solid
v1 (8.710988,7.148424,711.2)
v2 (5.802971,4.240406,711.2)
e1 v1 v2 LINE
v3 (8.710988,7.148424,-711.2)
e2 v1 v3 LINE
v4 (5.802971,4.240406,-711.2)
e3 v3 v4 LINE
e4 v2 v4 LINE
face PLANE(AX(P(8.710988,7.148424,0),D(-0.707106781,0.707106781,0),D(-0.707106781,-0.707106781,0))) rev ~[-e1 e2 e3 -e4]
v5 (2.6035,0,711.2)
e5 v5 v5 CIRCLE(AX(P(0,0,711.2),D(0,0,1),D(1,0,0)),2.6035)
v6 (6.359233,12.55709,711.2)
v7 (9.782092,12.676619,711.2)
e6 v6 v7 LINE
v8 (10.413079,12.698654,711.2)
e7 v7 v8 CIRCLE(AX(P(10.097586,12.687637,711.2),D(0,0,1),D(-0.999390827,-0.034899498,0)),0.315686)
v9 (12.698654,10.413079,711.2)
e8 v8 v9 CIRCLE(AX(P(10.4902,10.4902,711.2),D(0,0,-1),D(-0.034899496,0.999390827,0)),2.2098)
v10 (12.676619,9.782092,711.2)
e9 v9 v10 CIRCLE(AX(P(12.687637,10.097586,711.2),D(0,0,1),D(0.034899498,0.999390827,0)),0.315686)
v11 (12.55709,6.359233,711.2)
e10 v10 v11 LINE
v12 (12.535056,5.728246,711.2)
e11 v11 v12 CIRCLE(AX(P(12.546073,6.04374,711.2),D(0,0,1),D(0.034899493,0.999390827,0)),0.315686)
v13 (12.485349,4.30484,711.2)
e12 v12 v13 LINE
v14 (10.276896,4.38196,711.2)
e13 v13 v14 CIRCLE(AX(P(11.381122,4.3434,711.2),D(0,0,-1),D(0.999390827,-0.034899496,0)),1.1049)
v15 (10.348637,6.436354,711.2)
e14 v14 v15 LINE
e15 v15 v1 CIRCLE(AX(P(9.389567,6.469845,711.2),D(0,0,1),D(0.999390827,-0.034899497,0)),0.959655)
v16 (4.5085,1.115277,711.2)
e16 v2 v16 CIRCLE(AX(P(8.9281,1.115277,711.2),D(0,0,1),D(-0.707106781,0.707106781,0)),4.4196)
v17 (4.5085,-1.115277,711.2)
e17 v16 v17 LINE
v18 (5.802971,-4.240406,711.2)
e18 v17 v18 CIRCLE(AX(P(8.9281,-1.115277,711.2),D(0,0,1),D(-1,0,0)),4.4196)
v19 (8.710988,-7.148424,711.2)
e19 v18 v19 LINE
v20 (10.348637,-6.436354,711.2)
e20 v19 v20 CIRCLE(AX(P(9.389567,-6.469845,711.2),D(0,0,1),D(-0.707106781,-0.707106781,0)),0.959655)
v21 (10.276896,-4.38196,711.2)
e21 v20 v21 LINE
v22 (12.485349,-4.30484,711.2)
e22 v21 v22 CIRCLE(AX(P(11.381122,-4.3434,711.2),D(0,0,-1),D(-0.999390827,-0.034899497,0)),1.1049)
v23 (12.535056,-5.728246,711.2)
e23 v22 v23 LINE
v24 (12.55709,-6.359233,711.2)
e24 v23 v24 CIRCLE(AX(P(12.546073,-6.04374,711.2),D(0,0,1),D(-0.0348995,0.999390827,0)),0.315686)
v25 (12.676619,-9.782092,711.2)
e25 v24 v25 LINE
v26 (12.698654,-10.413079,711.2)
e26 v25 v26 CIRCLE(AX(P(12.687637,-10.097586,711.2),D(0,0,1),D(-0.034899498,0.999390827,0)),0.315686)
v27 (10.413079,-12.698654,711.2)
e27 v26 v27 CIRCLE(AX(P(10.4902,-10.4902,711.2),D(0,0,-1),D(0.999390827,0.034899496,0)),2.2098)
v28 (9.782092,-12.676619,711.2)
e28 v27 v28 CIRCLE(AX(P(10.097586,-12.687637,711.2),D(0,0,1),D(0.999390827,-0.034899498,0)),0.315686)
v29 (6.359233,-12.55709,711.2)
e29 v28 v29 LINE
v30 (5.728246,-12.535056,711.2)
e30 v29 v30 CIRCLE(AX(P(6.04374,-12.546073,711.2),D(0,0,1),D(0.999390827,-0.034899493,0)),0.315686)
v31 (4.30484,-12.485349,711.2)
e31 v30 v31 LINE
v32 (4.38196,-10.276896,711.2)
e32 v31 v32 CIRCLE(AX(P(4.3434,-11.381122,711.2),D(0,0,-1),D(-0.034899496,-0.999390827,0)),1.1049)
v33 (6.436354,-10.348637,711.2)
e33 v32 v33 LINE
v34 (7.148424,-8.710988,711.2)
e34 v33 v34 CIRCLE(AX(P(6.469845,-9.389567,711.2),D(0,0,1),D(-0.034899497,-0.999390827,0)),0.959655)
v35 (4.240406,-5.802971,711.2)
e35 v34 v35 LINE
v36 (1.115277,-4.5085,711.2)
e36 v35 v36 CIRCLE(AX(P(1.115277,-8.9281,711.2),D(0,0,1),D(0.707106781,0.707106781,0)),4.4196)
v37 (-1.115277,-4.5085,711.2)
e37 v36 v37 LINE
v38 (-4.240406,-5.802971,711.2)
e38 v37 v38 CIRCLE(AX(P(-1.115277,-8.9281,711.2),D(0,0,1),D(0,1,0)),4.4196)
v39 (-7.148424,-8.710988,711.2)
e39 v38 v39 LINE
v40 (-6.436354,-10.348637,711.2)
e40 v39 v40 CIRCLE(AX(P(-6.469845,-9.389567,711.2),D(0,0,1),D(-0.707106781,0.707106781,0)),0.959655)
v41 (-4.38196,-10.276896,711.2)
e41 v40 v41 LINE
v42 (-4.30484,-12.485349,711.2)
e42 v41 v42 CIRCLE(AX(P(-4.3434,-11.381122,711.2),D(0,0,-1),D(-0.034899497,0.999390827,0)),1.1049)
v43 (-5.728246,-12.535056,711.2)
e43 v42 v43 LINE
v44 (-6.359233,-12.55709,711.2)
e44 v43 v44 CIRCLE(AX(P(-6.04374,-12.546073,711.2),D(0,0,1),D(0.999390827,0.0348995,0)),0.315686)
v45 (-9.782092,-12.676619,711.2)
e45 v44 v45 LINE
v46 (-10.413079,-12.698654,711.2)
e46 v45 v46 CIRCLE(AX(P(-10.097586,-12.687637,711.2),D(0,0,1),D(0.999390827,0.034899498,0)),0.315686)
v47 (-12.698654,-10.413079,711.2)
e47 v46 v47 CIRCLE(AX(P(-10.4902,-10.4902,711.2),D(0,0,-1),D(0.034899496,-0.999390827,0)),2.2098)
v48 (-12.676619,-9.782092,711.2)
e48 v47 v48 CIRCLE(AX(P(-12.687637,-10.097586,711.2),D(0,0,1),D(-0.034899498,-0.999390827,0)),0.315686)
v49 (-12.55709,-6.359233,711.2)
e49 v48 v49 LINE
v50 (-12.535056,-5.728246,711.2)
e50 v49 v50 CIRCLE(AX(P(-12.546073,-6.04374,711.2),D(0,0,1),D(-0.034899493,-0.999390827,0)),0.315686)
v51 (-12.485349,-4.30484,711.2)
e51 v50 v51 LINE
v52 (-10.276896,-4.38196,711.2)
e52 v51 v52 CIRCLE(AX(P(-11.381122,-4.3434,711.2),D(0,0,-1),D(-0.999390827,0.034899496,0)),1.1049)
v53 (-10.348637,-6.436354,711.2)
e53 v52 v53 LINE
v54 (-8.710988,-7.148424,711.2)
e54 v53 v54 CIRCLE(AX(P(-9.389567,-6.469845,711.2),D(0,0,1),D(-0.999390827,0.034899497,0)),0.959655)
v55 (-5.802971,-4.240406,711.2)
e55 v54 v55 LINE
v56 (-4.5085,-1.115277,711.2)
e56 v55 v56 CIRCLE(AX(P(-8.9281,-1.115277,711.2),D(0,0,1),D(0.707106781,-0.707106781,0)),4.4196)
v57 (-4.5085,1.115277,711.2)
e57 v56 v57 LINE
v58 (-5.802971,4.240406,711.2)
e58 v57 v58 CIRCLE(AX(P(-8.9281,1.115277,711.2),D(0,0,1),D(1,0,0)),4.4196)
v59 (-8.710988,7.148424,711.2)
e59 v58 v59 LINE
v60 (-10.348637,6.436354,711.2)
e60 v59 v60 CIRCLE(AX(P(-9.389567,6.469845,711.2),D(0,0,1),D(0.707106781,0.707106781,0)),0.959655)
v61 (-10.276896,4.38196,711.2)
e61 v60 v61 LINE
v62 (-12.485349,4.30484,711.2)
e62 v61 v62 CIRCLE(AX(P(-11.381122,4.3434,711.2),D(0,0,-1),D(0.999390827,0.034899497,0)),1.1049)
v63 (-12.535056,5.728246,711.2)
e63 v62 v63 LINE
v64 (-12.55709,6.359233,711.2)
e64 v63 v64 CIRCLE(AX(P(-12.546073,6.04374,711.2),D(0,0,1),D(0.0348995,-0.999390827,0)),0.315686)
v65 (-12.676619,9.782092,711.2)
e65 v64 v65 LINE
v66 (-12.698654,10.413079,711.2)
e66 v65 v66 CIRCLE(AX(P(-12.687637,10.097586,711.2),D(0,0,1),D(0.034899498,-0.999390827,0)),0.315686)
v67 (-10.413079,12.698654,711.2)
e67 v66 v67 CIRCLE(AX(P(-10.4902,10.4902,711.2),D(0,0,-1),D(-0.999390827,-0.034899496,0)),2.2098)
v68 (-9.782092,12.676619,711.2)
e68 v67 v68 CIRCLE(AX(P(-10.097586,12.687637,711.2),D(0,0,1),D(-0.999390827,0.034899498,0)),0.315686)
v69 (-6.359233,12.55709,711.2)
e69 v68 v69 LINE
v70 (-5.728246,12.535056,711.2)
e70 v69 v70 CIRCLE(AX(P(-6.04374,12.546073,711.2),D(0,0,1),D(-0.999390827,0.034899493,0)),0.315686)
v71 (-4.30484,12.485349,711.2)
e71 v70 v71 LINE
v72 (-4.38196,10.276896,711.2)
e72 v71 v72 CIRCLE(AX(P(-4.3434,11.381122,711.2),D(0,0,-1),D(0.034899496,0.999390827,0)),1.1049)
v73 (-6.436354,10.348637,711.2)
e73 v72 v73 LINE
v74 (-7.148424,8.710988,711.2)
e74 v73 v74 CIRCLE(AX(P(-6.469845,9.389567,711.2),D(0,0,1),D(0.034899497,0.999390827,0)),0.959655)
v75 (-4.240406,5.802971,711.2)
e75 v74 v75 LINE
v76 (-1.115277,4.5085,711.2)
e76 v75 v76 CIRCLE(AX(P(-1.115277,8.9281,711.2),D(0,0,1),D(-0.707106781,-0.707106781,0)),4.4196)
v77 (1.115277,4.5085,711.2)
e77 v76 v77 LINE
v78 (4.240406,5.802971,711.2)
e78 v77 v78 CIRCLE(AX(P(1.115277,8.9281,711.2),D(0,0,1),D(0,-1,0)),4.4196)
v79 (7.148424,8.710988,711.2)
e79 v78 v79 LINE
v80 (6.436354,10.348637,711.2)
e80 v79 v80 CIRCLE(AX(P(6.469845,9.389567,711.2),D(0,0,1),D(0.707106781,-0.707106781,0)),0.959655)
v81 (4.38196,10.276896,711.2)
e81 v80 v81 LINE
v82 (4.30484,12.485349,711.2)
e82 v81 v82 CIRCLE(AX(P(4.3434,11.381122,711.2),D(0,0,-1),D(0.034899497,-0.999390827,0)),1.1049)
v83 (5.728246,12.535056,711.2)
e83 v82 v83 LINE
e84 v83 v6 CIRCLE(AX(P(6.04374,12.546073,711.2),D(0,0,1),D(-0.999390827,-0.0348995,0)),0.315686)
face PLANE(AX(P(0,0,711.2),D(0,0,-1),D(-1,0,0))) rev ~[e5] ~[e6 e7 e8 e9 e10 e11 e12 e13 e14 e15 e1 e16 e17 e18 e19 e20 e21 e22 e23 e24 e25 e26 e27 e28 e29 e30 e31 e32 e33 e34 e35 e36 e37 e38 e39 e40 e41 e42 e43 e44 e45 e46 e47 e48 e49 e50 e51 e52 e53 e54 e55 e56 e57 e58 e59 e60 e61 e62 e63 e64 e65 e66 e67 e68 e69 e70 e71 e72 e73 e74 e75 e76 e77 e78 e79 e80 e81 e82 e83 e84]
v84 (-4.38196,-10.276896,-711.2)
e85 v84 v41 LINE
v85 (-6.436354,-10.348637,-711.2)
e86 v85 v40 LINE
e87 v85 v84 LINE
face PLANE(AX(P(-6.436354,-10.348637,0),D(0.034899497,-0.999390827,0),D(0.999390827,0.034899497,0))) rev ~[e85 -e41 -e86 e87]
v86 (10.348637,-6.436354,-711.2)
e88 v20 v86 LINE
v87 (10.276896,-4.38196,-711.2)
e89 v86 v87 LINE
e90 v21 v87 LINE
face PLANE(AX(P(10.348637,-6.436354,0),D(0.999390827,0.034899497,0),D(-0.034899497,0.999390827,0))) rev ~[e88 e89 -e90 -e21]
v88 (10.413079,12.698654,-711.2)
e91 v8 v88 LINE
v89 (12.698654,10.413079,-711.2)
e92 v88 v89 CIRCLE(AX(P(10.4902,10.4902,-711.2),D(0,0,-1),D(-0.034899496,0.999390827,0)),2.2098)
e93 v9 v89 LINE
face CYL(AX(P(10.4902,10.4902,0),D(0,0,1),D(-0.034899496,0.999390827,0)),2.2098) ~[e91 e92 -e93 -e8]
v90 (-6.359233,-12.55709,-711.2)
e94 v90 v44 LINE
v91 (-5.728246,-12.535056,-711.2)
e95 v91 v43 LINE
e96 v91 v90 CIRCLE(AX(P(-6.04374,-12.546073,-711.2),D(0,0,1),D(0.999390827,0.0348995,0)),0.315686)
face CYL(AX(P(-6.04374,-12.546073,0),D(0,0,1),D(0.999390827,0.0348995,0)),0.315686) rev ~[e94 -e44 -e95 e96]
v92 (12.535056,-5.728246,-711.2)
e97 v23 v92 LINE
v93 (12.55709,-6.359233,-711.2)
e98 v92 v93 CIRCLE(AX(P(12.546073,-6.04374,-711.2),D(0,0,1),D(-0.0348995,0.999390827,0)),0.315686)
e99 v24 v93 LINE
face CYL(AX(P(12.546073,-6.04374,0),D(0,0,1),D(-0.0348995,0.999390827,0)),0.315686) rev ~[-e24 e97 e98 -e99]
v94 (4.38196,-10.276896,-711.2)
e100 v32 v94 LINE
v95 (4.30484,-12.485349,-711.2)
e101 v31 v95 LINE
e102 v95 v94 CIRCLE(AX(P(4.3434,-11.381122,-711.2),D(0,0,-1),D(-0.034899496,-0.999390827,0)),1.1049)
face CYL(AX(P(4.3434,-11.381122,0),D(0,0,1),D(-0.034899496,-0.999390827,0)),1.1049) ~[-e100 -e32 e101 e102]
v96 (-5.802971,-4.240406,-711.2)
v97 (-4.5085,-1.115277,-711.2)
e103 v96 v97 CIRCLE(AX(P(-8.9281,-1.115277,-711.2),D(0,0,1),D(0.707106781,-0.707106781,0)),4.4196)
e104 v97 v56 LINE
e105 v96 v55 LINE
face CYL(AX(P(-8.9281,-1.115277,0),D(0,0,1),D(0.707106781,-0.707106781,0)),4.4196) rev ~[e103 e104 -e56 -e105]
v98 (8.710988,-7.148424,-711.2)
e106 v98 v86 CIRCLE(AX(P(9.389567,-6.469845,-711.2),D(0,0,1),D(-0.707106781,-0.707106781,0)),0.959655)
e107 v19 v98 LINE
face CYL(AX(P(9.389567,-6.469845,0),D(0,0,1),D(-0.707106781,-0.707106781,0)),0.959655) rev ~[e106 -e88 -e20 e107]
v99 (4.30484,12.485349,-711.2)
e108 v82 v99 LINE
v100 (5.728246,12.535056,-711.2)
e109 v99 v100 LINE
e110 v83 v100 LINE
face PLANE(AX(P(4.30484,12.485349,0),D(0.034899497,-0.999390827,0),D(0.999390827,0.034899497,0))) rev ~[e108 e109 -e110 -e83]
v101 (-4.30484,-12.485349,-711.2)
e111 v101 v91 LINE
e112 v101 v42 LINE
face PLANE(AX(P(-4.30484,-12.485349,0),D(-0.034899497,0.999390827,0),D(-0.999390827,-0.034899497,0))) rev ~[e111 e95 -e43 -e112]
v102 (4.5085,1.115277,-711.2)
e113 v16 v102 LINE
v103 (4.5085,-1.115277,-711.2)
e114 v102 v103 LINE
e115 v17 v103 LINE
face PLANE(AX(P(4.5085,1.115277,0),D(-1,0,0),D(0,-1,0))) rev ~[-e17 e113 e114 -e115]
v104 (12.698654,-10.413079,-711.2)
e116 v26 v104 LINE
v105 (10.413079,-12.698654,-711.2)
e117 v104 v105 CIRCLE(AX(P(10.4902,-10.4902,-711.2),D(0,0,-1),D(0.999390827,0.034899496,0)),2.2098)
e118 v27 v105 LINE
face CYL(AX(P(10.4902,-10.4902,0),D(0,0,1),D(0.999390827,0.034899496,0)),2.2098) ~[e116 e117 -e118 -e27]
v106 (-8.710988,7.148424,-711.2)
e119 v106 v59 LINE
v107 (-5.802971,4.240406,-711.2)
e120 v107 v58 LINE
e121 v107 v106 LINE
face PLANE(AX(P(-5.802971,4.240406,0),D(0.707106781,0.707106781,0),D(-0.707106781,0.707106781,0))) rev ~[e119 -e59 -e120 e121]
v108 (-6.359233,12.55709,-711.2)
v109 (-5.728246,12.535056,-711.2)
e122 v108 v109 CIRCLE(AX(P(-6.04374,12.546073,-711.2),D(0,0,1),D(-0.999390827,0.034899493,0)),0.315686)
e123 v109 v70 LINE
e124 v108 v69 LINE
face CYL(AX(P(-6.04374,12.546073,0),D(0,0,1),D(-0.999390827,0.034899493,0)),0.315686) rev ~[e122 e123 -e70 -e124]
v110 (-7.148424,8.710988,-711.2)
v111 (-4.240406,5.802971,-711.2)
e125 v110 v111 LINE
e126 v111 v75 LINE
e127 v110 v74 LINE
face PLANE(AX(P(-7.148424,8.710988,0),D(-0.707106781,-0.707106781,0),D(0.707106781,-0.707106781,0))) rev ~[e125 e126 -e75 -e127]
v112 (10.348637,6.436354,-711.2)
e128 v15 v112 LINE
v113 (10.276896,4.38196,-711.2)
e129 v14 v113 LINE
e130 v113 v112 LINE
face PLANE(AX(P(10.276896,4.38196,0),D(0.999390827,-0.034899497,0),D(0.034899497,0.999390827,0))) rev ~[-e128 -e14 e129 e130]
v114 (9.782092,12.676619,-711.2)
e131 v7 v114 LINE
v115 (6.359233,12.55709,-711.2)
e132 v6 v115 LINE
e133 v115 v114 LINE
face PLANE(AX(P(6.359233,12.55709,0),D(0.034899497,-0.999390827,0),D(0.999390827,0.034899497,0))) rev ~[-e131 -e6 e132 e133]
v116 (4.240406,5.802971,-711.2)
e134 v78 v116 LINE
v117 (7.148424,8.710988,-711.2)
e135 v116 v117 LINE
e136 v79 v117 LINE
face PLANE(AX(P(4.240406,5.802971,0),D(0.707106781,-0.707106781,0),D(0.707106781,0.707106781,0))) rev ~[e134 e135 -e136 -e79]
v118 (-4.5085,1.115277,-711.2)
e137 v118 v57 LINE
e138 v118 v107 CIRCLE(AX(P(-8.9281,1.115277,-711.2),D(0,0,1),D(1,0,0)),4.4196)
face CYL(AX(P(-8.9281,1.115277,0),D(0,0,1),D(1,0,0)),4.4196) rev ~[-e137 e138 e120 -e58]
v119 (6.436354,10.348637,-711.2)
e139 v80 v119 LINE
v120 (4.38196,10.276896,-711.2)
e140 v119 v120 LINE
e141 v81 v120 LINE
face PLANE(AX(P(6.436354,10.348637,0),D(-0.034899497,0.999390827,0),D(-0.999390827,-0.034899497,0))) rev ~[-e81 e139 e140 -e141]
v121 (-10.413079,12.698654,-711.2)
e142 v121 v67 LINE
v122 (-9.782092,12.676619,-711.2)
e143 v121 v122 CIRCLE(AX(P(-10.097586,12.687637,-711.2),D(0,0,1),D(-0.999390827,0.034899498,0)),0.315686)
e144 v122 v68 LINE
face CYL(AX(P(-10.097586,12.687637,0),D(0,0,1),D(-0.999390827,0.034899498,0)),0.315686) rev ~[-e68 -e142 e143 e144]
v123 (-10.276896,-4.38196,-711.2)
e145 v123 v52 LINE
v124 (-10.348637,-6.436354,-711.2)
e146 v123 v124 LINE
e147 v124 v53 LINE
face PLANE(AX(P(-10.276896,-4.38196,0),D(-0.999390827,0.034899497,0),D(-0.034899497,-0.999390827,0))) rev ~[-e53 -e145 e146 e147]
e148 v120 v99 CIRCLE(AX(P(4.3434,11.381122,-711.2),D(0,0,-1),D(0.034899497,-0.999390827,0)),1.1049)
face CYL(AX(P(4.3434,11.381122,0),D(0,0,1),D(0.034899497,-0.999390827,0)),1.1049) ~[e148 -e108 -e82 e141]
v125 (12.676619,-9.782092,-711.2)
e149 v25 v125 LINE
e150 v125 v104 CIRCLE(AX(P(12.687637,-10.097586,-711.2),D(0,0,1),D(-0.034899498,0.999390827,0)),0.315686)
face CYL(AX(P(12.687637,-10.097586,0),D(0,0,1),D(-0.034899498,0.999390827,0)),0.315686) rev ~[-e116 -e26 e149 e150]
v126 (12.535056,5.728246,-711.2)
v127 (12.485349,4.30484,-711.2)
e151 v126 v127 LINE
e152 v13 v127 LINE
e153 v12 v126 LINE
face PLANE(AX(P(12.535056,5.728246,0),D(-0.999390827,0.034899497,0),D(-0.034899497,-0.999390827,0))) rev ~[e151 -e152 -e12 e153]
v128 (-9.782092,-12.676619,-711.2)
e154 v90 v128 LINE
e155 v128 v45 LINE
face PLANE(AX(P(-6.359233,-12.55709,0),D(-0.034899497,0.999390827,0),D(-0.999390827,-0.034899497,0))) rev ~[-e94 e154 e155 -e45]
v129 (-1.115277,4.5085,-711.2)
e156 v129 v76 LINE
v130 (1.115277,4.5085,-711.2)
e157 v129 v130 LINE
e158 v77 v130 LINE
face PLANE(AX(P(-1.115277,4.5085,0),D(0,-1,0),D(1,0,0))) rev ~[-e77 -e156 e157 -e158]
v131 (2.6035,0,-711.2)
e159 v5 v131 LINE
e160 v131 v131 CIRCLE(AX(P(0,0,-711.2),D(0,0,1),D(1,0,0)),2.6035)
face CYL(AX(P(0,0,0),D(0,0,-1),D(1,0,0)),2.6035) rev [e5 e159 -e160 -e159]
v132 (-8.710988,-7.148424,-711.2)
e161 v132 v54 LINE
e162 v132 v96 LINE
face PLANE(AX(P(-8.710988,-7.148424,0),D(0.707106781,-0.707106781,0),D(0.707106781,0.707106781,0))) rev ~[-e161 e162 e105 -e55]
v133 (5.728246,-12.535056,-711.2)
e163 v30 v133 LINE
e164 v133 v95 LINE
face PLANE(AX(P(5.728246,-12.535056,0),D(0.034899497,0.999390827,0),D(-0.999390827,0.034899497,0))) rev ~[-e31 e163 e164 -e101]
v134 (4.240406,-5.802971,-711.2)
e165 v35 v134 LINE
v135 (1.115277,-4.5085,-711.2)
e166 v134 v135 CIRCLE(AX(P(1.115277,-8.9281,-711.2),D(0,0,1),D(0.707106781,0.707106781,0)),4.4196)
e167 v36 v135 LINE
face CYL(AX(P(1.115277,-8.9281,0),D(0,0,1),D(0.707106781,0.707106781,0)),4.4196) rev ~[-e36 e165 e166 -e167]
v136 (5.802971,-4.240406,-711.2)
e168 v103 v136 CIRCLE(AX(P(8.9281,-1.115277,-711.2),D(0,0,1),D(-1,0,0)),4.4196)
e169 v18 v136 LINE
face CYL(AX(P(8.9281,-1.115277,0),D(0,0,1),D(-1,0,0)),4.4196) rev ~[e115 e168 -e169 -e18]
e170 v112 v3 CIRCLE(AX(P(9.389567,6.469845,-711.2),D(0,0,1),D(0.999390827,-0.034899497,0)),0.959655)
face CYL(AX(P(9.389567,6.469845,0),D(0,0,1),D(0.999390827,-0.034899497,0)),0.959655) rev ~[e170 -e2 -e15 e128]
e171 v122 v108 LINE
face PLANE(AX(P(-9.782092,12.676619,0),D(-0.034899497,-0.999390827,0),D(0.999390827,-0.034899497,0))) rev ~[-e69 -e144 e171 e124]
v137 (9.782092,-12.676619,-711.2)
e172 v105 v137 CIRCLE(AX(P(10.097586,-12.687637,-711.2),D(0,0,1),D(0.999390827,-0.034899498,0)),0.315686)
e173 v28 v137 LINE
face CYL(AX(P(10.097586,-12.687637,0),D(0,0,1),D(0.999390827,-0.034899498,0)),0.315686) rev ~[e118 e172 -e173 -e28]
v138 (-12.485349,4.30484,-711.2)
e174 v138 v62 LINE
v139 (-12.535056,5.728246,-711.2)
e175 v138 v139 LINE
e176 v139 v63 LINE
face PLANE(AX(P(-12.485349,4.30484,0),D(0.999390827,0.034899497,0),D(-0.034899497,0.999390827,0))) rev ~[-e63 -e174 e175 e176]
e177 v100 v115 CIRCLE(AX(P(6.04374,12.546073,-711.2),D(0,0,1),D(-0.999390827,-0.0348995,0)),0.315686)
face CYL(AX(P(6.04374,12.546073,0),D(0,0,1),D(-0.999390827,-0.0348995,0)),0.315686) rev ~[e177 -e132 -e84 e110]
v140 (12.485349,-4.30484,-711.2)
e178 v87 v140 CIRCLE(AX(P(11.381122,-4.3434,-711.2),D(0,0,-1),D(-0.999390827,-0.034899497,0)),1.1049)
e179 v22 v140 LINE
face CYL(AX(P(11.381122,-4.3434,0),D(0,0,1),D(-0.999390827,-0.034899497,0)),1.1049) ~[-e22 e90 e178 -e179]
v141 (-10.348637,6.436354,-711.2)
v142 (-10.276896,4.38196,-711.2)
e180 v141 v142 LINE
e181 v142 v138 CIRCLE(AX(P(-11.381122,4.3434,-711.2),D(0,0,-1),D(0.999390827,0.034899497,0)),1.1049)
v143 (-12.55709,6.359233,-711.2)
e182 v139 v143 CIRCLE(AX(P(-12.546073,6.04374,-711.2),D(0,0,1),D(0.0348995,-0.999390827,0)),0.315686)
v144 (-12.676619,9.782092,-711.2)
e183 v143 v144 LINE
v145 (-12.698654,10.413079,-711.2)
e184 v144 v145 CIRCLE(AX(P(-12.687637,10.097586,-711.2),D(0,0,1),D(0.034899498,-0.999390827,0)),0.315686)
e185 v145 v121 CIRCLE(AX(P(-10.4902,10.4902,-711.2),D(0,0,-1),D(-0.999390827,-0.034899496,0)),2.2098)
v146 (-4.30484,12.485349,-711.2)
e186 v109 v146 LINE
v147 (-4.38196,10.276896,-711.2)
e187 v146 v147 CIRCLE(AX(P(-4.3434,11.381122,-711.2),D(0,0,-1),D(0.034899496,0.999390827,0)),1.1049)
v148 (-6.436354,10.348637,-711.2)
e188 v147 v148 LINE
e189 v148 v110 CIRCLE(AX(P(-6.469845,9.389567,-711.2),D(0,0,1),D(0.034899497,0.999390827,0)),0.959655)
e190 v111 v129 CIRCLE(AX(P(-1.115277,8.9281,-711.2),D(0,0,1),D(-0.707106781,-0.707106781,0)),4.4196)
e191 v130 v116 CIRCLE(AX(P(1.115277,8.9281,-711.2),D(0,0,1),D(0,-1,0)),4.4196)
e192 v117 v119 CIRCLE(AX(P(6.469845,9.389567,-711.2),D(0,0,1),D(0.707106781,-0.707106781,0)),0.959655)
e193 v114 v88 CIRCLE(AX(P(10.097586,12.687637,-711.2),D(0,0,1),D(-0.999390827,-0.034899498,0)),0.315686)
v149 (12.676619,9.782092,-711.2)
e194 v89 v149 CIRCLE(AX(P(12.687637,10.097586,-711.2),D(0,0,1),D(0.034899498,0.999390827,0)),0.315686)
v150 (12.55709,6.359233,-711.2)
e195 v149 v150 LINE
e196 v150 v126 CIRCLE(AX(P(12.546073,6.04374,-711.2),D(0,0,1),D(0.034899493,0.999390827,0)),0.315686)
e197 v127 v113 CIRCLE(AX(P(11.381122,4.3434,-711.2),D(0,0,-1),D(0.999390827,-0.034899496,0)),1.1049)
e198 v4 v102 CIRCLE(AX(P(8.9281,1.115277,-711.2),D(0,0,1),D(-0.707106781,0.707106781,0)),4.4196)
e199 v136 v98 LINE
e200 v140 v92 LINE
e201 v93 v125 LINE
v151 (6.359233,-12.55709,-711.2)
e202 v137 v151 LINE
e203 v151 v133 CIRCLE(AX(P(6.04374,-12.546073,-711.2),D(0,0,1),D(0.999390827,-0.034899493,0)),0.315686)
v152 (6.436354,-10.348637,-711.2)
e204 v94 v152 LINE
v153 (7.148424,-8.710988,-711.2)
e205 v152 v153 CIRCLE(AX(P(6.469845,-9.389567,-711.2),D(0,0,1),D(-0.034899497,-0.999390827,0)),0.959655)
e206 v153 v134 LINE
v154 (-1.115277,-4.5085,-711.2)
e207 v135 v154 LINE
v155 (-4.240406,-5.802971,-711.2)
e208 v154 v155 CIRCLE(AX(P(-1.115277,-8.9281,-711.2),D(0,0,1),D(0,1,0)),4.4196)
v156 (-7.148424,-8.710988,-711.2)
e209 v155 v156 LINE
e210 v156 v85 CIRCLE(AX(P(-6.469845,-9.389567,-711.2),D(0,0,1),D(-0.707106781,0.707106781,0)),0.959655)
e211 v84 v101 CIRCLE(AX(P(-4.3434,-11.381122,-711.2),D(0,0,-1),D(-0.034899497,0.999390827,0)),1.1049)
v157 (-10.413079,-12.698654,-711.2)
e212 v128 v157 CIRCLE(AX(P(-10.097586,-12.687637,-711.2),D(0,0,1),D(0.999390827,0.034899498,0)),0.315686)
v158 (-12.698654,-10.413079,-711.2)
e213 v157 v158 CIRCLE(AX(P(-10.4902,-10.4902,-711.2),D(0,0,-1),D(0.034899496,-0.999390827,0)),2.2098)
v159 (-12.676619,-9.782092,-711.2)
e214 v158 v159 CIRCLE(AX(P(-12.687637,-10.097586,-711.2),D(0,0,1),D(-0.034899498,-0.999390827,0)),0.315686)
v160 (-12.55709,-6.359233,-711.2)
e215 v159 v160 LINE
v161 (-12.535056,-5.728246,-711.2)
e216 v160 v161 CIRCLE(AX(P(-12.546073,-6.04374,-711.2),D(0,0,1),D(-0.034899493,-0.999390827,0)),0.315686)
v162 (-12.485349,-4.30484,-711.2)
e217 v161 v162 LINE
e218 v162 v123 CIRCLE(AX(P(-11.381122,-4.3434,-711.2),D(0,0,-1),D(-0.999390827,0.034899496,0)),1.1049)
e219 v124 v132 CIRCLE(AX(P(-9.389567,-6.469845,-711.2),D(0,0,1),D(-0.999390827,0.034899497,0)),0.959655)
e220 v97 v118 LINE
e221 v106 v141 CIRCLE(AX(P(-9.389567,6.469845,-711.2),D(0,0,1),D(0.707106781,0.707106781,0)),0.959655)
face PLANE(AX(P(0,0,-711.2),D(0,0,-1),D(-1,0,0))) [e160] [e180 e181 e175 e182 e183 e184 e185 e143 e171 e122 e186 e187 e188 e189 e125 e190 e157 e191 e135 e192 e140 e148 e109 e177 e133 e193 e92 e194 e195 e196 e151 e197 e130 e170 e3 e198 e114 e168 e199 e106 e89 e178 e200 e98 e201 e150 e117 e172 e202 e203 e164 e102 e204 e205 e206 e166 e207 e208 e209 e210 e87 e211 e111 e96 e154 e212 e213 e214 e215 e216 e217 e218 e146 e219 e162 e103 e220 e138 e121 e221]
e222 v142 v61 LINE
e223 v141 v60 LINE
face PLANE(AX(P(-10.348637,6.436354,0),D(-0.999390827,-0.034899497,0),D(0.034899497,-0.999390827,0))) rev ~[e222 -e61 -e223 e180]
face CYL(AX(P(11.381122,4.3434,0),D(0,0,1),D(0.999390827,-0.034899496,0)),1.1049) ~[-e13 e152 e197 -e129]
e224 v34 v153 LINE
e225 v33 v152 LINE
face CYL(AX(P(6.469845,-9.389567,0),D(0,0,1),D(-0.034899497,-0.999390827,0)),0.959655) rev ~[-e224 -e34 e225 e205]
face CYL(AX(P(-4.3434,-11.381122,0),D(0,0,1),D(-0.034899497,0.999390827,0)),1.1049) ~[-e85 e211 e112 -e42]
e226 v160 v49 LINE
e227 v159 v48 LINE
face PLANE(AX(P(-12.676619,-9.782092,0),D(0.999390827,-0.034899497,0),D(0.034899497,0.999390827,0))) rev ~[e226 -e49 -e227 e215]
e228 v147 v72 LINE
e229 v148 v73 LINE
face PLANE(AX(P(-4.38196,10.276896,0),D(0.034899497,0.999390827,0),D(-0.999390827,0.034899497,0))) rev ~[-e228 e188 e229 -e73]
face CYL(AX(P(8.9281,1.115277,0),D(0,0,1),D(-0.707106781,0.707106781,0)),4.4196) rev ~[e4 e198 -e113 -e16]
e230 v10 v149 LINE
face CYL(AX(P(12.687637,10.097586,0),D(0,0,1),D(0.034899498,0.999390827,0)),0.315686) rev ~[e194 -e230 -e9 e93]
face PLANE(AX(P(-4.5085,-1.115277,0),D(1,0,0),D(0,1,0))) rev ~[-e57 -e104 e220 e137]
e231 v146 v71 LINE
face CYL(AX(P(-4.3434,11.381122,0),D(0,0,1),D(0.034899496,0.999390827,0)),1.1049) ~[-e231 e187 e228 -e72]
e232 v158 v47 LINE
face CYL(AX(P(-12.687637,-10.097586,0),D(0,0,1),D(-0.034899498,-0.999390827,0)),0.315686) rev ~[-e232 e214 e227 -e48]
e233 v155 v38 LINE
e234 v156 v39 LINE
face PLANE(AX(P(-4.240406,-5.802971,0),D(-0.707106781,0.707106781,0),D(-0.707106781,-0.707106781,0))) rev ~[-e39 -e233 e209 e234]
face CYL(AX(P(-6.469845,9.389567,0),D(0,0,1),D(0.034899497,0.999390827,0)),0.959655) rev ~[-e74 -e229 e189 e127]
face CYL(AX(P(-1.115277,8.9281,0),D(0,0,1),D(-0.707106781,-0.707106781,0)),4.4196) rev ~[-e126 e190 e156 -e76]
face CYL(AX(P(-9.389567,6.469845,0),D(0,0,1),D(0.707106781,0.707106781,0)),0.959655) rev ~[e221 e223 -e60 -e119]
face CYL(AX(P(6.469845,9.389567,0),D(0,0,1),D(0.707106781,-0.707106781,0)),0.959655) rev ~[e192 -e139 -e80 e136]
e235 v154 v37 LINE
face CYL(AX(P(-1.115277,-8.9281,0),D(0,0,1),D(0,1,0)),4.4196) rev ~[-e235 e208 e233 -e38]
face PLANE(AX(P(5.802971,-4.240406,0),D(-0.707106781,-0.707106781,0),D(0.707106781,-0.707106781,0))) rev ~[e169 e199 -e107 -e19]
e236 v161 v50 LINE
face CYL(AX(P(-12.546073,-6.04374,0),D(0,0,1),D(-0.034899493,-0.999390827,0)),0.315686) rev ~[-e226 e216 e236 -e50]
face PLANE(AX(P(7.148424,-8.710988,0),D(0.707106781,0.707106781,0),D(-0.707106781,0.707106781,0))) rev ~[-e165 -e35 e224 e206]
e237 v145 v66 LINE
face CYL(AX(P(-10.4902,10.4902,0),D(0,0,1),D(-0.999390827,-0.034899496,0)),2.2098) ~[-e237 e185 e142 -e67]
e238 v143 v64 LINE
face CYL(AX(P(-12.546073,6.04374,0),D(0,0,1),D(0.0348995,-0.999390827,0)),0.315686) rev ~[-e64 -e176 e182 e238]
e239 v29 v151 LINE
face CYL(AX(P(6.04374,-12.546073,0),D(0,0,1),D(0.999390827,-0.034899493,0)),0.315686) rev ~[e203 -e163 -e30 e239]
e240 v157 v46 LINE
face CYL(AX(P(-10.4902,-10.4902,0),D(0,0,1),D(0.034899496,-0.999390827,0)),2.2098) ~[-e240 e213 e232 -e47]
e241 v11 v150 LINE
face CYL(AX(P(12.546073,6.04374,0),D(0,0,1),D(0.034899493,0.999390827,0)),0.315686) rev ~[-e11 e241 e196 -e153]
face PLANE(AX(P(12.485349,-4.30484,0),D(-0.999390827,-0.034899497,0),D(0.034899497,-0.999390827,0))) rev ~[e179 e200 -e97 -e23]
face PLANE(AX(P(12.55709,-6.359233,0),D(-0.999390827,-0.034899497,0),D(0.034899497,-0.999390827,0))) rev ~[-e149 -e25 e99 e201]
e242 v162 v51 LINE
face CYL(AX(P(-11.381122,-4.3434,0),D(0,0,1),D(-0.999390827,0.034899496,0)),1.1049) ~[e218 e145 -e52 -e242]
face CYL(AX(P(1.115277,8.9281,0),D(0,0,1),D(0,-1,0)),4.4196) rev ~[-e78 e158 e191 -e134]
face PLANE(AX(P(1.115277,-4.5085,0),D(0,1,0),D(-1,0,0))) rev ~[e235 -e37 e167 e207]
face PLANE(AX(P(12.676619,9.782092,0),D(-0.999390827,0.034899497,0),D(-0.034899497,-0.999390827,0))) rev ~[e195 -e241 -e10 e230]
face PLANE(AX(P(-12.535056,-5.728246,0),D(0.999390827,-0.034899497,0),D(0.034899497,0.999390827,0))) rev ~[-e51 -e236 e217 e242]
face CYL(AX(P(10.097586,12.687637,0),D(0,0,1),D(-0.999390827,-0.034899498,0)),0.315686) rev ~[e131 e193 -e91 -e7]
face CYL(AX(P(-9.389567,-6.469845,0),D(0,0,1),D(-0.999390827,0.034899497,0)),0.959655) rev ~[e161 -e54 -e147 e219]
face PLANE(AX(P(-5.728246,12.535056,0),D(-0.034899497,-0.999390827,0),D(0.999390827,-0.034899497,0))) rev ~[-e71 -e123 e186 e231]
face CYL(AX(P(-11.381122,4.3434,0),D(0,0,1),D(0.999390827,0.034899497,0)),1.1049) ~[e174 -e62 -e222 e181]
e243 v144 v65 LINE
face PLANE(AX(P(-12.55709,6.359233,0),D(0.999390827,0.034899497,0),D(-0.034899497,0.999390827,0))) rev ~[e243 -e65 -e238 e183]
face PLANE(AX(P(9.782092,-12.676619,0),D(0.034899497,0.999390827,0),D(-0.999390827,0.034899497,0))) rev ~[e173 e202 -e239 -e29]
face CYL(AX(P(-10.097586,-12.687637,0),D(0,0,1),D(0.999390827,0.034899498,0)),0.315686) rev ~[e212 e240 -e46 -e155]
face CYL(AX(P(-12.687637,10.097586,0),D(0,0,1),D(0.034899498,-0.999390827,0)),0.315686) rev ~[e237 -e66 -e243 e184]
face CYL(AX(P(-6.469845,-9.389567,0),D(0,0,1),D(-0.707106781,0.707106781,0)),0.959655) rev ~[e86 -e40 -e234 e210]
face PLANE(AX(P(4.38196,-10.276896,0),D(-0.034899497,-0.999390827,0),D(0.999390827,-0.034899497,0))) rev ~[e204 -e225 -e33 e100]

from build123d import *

# Parameters (mm, degrees)
SKETCH3_R      = 2.6035
EXTRUDE1_DEPTH = 711.2


with BuildPart() as part:
    # Sketch3 → Extrude1 (new body, symmetric)
    with BuildSketch(Plane.XY):
        with BuildLine():
            Line((-1.115277175, 4.5085), (1.115277175, 4.5085))
            ThreePointArc((1.115277175, 4.5085), (2.806584872, 4.844922018), (4.240406305, 5.80297087))
            Line((4.240406305, 5.80297087), (7.148423664, 8.710988229))
            ThreePointArc((7.148423664, 8.710988229), (7.349906316, 9.772227925), (6.436353897, 10.348636575))
            Line((6.436353897, 10.348636575), (4.381960454, 10.276895575))
            ThreePointArc((4.381960454, 10.276895575), (3.239173075, 11.342562046), (4.304839546, 12.485349424))
            Line((4.304839546, 12.485349424), (5.728246175, 12.535055879))
            ThreePointArc((5.728246175, 12.535055879), (6.054756855, 12.230579745), (6.35923299, 12.557090424))
            Line((6.35923299, 12.557090424), (9.782092278, 12.676619304))
            ThreePointArc((9.782092278, 12.676619304), (10.108602958, 12.37214317), (10.413079092, 12.69865385))
            ThreePointArc((10.413079092, 12.69865385), (12.052764565, 12.052764565), (12.69865385, 10.413079092))
            ThreePointArc((12.69865385, 10.413079092), (12.37214317, 10.108602958), (12.676619304, 9.782092278))
            Line((12.676619304, 9.782092278), (12.557090424, 6.35923299))
            ThreePointArc((12.557090424, 6.35923299), (12.230579745, 6.054756855), (12.535055879, 5.728246175))
            Line((12.535055879, 5.728246175), (12.485349424, 4.304839546))
            ThreePointArc((12.485349424, 4.304839546), (11.342562046, 3.239173075), (10.276895575, 4.381960454))
            Line((10.276895575, 4.381960454), (10.348636575, 6.436353897))
            ThreePointArc((10.348636575, 6.436353897), (9.772227925, 7.349906316), (8.710988229, 7.148423664))
            Line((8.710988229, 7.148423664), (5.80297087, 4.240406305))
            ThreePointArc((5.80297087, 4.240406305), (4.844922018, 2.806584872), (4.5085, 1.115277175))
            Line((4.5085, 1.115277175), (4.5085, -1.115277175))
            ThreePointArc((4.5085, -1.115277175), (4.844922018, -2.806584872), (5.80297087, -4.240406305))
            Line((5.80297087, -4.240406305), (8.710988229, -7.148423664))
            ThreePointArc((8.710988229, -7.148423664), (9.772227925, -7.349906316), (10.348636575, -6.436353897))
            Line((10.348636575, -6.436353897), (10.276895575, -4.381960454))
            ThreePointArc((10.276895575, -4.381960454), (11.342562046, -3.239173075), (12.485349424, -4.304839546))
            Line((12.485349424, -4.304839546), (12.535055879, -5.728246175))
            ThreePointArc((12.535055879, -5.728246175), (12.230579745, -6.054756855), (12.557090424, -6.35923299))
            Line((12.557090424, -6.35923299), (12.676619304, -9.782092278))
            ThreePointArc((12.676619304, -9.782092278), (12.37214317, -10.108602958), (12.69865385, -10.413079092))
            ThreePointArc((12.69865385, -10.413079092), (12.052764565, -12.052764565), (10.413079092, -12.69865385))
            ThreePointArc((10.413079092, -12.69865385), (10.108602958, -12.37214317), (9.782092278, -12.676619304))
            Line((9.782092278, -12.676619304), (6.35923299, -12.557090424))
            ThreePointArc((6.35923299, -12.557090424), (6.054756855, -12.230579745), (5.728246175, -12.535055879))
            Line((5.728246175, -12.535055879), (4.304839546, -12.485349424))
            ThreePointArc((4.304839546, -12.485349424), (3.239173075, -11.342562046), (4.381960454, -10.276895575))
            Line((4.381960454, -10.276895575), (6.436353897, -10.348636575))
            ThreePointArc((6.436353897, -10.348636575), (7.349906316, -9.772227925), (7.148423664, -8.710988229))
            Line((7.148423664, -8.710988229), (4.240406305, -5.80297087))
            ThreePointArc((4.240406305, -5.80297087), (2.806584872, -4.844922018), (1.115277175, -4.5085))
            Line((1.115277175, -4.5085), (-1.115277175, -4.5085))
            ThreePointArc((-1.115277175, -4.5085), (-2.806584872, -4.844922018), (-4.240406305, -5.80297087))
            Line((-4.240406305, -5.80297087), (-7.148423664, -8.710988229))
            ThreePointArc((-7.148423664, -8.710988229), (-7.349906316, -9.772227925), (-6.436353897, -10.348636575))
            Line((-6.436353897, -10.348636575), (-4.381960454, -10.276895575))
            ThreePointArc((-4.381960454, -10.276895575), (-3.239173075, -11.342562046), (-4.304839546, -12.485349424))
            Line((-4.304839546, -12.485349424), (-5.728246175, -12.535055879))
            ThreePointArc((-5.728246175, -12.535055879), (-6.054756855, -12.230579745), (-6.35923299, -12.557090424))
            Line((-6.35923299, -12.557090424), (-9.782092278, -12.676619304))
            ThreePointArc((-9.782092278, -12.676619304), (-10.108602958, -12.37214317), (-10.413079092, -12.69865385))
            ThreePointArc((-10.413079092, -12.69865385), (-12.052764565, -12.052764565), (-12.69865385, -10.413079092))
            ThreePointArc((-12.69865385, -10.413079092), (-12.37214317, -10.108602958), (-12.676619304, -9.782092278))
            Line((-12.676619304, -9.782092278), (-12.557090424, -6.35923299))
            ThreePointArc((-12.557090424, -6.35923299), (-12.230579745, -6.054756855), (-12.535055879, -5.728246175))
            Line((-12.535055879, -5.728246175), (-12.485349424, -4.304839546))
            ThreePointArc((-12.485349424, -4.304839546), (-11.342562046, -3.239173075), (-10.276895575, -4.381960454))
            Line((-10.276895575, -4.381960454), (-10.348636575, -6.436353897))
            ThreePointArc((-10.348636575, -6.436353897), (-9.772227925, -7.349906316), (-8.710988229, -7.148423664))
            Line((-8.710988229, -7.148423664), (-5.80297087, -4.240406305))
            ThreePointArc((-5.80297087, -4.240406305), (-4.844922018, -2.806584872), (-4.5085, -1.115277175))
            Line((-4.5085, -1.115277175), (-4.5085, 1.115277175))
            ThreePointArc((-4.5085, 1.115277175), (-4.844922018, 2.806584872), (-5.80297087, 4.240406305))
            Line((-5.80297087, 4.240406305), (-8.710988229, 7.148423664))
            ThreePointArc((-8.710988229, 7.148423664), (-9.772227925, 7.349906316), (-10.348636575, 6.436353897))
            Line((-10.348636575, 6.436353897), (-10.276895575, 4.381960454))
            ThreePointArc((-10.276895575, 4.381960454), (-11.342562046, 3.239173075), (-12.485349424, 4.304839546))
            Line((-12.485349424, 4.304839546), (-12.535055879, 5.728246175))
            ThreePointArc((-12.535055879, 5.728246175), (-12.230579745, 6.054756855), (-12.557090424, 6.35923299))
            Line((-12.557090424, 6.35923299), (-12.676619304, 9.782092278))
            ThreePointArc((-12.676619304, 9.782092278), (-12.37214317, 10.108602958), (-12.69865385, 10.413079092))
            ThreePointArc((-12.69865385, 10.413079092), (-12.052764565, 12.052764565), (-10.413079092, 12.69865385))
            ThreePointArc((-10.413079092, 12.69865385), (-10.108602958, 12.37214317), (-9.782092278, 12.676619304))
            Line((-9.782092278, 12.676619304), (-6.35923299, 12.557090424))
            ThreePointArc((-6.35923299, 12.557090424), (-6.054756855, 12.230579745), (-5.728246175, 12.535055879))
            Line((-5.728246175, 12.535055879), (-4.304839546, 12.485349424))
            ThreePointArc((-4.304839546, 12.485349424), (-3.239173075, 11.342562046), (-4.381960454, 10.276895575))
            Line((-4.381960454, 10.276895575), (-6.436353897, 10.348636575))
            ThreePointArc((-6.436353897, 10.348636575), (-7.349906316, 9.772227925), (-7.148423664, 8.710988229))
            Line((-7.148423664, 8.710988229), (-4.240406305, 5.80297087))
            ThreePointArc((-4.240406305, 5.80297087), (-2.806584872, 4.844922018), (-1.115277175, 4.5085))
        make_face()
        Circle(SKETCH3_R, mode=Mode.SUBTRACT)
    extrude(amount=EXTRUDE1_DEPTH, both=True)


solid = part.part
